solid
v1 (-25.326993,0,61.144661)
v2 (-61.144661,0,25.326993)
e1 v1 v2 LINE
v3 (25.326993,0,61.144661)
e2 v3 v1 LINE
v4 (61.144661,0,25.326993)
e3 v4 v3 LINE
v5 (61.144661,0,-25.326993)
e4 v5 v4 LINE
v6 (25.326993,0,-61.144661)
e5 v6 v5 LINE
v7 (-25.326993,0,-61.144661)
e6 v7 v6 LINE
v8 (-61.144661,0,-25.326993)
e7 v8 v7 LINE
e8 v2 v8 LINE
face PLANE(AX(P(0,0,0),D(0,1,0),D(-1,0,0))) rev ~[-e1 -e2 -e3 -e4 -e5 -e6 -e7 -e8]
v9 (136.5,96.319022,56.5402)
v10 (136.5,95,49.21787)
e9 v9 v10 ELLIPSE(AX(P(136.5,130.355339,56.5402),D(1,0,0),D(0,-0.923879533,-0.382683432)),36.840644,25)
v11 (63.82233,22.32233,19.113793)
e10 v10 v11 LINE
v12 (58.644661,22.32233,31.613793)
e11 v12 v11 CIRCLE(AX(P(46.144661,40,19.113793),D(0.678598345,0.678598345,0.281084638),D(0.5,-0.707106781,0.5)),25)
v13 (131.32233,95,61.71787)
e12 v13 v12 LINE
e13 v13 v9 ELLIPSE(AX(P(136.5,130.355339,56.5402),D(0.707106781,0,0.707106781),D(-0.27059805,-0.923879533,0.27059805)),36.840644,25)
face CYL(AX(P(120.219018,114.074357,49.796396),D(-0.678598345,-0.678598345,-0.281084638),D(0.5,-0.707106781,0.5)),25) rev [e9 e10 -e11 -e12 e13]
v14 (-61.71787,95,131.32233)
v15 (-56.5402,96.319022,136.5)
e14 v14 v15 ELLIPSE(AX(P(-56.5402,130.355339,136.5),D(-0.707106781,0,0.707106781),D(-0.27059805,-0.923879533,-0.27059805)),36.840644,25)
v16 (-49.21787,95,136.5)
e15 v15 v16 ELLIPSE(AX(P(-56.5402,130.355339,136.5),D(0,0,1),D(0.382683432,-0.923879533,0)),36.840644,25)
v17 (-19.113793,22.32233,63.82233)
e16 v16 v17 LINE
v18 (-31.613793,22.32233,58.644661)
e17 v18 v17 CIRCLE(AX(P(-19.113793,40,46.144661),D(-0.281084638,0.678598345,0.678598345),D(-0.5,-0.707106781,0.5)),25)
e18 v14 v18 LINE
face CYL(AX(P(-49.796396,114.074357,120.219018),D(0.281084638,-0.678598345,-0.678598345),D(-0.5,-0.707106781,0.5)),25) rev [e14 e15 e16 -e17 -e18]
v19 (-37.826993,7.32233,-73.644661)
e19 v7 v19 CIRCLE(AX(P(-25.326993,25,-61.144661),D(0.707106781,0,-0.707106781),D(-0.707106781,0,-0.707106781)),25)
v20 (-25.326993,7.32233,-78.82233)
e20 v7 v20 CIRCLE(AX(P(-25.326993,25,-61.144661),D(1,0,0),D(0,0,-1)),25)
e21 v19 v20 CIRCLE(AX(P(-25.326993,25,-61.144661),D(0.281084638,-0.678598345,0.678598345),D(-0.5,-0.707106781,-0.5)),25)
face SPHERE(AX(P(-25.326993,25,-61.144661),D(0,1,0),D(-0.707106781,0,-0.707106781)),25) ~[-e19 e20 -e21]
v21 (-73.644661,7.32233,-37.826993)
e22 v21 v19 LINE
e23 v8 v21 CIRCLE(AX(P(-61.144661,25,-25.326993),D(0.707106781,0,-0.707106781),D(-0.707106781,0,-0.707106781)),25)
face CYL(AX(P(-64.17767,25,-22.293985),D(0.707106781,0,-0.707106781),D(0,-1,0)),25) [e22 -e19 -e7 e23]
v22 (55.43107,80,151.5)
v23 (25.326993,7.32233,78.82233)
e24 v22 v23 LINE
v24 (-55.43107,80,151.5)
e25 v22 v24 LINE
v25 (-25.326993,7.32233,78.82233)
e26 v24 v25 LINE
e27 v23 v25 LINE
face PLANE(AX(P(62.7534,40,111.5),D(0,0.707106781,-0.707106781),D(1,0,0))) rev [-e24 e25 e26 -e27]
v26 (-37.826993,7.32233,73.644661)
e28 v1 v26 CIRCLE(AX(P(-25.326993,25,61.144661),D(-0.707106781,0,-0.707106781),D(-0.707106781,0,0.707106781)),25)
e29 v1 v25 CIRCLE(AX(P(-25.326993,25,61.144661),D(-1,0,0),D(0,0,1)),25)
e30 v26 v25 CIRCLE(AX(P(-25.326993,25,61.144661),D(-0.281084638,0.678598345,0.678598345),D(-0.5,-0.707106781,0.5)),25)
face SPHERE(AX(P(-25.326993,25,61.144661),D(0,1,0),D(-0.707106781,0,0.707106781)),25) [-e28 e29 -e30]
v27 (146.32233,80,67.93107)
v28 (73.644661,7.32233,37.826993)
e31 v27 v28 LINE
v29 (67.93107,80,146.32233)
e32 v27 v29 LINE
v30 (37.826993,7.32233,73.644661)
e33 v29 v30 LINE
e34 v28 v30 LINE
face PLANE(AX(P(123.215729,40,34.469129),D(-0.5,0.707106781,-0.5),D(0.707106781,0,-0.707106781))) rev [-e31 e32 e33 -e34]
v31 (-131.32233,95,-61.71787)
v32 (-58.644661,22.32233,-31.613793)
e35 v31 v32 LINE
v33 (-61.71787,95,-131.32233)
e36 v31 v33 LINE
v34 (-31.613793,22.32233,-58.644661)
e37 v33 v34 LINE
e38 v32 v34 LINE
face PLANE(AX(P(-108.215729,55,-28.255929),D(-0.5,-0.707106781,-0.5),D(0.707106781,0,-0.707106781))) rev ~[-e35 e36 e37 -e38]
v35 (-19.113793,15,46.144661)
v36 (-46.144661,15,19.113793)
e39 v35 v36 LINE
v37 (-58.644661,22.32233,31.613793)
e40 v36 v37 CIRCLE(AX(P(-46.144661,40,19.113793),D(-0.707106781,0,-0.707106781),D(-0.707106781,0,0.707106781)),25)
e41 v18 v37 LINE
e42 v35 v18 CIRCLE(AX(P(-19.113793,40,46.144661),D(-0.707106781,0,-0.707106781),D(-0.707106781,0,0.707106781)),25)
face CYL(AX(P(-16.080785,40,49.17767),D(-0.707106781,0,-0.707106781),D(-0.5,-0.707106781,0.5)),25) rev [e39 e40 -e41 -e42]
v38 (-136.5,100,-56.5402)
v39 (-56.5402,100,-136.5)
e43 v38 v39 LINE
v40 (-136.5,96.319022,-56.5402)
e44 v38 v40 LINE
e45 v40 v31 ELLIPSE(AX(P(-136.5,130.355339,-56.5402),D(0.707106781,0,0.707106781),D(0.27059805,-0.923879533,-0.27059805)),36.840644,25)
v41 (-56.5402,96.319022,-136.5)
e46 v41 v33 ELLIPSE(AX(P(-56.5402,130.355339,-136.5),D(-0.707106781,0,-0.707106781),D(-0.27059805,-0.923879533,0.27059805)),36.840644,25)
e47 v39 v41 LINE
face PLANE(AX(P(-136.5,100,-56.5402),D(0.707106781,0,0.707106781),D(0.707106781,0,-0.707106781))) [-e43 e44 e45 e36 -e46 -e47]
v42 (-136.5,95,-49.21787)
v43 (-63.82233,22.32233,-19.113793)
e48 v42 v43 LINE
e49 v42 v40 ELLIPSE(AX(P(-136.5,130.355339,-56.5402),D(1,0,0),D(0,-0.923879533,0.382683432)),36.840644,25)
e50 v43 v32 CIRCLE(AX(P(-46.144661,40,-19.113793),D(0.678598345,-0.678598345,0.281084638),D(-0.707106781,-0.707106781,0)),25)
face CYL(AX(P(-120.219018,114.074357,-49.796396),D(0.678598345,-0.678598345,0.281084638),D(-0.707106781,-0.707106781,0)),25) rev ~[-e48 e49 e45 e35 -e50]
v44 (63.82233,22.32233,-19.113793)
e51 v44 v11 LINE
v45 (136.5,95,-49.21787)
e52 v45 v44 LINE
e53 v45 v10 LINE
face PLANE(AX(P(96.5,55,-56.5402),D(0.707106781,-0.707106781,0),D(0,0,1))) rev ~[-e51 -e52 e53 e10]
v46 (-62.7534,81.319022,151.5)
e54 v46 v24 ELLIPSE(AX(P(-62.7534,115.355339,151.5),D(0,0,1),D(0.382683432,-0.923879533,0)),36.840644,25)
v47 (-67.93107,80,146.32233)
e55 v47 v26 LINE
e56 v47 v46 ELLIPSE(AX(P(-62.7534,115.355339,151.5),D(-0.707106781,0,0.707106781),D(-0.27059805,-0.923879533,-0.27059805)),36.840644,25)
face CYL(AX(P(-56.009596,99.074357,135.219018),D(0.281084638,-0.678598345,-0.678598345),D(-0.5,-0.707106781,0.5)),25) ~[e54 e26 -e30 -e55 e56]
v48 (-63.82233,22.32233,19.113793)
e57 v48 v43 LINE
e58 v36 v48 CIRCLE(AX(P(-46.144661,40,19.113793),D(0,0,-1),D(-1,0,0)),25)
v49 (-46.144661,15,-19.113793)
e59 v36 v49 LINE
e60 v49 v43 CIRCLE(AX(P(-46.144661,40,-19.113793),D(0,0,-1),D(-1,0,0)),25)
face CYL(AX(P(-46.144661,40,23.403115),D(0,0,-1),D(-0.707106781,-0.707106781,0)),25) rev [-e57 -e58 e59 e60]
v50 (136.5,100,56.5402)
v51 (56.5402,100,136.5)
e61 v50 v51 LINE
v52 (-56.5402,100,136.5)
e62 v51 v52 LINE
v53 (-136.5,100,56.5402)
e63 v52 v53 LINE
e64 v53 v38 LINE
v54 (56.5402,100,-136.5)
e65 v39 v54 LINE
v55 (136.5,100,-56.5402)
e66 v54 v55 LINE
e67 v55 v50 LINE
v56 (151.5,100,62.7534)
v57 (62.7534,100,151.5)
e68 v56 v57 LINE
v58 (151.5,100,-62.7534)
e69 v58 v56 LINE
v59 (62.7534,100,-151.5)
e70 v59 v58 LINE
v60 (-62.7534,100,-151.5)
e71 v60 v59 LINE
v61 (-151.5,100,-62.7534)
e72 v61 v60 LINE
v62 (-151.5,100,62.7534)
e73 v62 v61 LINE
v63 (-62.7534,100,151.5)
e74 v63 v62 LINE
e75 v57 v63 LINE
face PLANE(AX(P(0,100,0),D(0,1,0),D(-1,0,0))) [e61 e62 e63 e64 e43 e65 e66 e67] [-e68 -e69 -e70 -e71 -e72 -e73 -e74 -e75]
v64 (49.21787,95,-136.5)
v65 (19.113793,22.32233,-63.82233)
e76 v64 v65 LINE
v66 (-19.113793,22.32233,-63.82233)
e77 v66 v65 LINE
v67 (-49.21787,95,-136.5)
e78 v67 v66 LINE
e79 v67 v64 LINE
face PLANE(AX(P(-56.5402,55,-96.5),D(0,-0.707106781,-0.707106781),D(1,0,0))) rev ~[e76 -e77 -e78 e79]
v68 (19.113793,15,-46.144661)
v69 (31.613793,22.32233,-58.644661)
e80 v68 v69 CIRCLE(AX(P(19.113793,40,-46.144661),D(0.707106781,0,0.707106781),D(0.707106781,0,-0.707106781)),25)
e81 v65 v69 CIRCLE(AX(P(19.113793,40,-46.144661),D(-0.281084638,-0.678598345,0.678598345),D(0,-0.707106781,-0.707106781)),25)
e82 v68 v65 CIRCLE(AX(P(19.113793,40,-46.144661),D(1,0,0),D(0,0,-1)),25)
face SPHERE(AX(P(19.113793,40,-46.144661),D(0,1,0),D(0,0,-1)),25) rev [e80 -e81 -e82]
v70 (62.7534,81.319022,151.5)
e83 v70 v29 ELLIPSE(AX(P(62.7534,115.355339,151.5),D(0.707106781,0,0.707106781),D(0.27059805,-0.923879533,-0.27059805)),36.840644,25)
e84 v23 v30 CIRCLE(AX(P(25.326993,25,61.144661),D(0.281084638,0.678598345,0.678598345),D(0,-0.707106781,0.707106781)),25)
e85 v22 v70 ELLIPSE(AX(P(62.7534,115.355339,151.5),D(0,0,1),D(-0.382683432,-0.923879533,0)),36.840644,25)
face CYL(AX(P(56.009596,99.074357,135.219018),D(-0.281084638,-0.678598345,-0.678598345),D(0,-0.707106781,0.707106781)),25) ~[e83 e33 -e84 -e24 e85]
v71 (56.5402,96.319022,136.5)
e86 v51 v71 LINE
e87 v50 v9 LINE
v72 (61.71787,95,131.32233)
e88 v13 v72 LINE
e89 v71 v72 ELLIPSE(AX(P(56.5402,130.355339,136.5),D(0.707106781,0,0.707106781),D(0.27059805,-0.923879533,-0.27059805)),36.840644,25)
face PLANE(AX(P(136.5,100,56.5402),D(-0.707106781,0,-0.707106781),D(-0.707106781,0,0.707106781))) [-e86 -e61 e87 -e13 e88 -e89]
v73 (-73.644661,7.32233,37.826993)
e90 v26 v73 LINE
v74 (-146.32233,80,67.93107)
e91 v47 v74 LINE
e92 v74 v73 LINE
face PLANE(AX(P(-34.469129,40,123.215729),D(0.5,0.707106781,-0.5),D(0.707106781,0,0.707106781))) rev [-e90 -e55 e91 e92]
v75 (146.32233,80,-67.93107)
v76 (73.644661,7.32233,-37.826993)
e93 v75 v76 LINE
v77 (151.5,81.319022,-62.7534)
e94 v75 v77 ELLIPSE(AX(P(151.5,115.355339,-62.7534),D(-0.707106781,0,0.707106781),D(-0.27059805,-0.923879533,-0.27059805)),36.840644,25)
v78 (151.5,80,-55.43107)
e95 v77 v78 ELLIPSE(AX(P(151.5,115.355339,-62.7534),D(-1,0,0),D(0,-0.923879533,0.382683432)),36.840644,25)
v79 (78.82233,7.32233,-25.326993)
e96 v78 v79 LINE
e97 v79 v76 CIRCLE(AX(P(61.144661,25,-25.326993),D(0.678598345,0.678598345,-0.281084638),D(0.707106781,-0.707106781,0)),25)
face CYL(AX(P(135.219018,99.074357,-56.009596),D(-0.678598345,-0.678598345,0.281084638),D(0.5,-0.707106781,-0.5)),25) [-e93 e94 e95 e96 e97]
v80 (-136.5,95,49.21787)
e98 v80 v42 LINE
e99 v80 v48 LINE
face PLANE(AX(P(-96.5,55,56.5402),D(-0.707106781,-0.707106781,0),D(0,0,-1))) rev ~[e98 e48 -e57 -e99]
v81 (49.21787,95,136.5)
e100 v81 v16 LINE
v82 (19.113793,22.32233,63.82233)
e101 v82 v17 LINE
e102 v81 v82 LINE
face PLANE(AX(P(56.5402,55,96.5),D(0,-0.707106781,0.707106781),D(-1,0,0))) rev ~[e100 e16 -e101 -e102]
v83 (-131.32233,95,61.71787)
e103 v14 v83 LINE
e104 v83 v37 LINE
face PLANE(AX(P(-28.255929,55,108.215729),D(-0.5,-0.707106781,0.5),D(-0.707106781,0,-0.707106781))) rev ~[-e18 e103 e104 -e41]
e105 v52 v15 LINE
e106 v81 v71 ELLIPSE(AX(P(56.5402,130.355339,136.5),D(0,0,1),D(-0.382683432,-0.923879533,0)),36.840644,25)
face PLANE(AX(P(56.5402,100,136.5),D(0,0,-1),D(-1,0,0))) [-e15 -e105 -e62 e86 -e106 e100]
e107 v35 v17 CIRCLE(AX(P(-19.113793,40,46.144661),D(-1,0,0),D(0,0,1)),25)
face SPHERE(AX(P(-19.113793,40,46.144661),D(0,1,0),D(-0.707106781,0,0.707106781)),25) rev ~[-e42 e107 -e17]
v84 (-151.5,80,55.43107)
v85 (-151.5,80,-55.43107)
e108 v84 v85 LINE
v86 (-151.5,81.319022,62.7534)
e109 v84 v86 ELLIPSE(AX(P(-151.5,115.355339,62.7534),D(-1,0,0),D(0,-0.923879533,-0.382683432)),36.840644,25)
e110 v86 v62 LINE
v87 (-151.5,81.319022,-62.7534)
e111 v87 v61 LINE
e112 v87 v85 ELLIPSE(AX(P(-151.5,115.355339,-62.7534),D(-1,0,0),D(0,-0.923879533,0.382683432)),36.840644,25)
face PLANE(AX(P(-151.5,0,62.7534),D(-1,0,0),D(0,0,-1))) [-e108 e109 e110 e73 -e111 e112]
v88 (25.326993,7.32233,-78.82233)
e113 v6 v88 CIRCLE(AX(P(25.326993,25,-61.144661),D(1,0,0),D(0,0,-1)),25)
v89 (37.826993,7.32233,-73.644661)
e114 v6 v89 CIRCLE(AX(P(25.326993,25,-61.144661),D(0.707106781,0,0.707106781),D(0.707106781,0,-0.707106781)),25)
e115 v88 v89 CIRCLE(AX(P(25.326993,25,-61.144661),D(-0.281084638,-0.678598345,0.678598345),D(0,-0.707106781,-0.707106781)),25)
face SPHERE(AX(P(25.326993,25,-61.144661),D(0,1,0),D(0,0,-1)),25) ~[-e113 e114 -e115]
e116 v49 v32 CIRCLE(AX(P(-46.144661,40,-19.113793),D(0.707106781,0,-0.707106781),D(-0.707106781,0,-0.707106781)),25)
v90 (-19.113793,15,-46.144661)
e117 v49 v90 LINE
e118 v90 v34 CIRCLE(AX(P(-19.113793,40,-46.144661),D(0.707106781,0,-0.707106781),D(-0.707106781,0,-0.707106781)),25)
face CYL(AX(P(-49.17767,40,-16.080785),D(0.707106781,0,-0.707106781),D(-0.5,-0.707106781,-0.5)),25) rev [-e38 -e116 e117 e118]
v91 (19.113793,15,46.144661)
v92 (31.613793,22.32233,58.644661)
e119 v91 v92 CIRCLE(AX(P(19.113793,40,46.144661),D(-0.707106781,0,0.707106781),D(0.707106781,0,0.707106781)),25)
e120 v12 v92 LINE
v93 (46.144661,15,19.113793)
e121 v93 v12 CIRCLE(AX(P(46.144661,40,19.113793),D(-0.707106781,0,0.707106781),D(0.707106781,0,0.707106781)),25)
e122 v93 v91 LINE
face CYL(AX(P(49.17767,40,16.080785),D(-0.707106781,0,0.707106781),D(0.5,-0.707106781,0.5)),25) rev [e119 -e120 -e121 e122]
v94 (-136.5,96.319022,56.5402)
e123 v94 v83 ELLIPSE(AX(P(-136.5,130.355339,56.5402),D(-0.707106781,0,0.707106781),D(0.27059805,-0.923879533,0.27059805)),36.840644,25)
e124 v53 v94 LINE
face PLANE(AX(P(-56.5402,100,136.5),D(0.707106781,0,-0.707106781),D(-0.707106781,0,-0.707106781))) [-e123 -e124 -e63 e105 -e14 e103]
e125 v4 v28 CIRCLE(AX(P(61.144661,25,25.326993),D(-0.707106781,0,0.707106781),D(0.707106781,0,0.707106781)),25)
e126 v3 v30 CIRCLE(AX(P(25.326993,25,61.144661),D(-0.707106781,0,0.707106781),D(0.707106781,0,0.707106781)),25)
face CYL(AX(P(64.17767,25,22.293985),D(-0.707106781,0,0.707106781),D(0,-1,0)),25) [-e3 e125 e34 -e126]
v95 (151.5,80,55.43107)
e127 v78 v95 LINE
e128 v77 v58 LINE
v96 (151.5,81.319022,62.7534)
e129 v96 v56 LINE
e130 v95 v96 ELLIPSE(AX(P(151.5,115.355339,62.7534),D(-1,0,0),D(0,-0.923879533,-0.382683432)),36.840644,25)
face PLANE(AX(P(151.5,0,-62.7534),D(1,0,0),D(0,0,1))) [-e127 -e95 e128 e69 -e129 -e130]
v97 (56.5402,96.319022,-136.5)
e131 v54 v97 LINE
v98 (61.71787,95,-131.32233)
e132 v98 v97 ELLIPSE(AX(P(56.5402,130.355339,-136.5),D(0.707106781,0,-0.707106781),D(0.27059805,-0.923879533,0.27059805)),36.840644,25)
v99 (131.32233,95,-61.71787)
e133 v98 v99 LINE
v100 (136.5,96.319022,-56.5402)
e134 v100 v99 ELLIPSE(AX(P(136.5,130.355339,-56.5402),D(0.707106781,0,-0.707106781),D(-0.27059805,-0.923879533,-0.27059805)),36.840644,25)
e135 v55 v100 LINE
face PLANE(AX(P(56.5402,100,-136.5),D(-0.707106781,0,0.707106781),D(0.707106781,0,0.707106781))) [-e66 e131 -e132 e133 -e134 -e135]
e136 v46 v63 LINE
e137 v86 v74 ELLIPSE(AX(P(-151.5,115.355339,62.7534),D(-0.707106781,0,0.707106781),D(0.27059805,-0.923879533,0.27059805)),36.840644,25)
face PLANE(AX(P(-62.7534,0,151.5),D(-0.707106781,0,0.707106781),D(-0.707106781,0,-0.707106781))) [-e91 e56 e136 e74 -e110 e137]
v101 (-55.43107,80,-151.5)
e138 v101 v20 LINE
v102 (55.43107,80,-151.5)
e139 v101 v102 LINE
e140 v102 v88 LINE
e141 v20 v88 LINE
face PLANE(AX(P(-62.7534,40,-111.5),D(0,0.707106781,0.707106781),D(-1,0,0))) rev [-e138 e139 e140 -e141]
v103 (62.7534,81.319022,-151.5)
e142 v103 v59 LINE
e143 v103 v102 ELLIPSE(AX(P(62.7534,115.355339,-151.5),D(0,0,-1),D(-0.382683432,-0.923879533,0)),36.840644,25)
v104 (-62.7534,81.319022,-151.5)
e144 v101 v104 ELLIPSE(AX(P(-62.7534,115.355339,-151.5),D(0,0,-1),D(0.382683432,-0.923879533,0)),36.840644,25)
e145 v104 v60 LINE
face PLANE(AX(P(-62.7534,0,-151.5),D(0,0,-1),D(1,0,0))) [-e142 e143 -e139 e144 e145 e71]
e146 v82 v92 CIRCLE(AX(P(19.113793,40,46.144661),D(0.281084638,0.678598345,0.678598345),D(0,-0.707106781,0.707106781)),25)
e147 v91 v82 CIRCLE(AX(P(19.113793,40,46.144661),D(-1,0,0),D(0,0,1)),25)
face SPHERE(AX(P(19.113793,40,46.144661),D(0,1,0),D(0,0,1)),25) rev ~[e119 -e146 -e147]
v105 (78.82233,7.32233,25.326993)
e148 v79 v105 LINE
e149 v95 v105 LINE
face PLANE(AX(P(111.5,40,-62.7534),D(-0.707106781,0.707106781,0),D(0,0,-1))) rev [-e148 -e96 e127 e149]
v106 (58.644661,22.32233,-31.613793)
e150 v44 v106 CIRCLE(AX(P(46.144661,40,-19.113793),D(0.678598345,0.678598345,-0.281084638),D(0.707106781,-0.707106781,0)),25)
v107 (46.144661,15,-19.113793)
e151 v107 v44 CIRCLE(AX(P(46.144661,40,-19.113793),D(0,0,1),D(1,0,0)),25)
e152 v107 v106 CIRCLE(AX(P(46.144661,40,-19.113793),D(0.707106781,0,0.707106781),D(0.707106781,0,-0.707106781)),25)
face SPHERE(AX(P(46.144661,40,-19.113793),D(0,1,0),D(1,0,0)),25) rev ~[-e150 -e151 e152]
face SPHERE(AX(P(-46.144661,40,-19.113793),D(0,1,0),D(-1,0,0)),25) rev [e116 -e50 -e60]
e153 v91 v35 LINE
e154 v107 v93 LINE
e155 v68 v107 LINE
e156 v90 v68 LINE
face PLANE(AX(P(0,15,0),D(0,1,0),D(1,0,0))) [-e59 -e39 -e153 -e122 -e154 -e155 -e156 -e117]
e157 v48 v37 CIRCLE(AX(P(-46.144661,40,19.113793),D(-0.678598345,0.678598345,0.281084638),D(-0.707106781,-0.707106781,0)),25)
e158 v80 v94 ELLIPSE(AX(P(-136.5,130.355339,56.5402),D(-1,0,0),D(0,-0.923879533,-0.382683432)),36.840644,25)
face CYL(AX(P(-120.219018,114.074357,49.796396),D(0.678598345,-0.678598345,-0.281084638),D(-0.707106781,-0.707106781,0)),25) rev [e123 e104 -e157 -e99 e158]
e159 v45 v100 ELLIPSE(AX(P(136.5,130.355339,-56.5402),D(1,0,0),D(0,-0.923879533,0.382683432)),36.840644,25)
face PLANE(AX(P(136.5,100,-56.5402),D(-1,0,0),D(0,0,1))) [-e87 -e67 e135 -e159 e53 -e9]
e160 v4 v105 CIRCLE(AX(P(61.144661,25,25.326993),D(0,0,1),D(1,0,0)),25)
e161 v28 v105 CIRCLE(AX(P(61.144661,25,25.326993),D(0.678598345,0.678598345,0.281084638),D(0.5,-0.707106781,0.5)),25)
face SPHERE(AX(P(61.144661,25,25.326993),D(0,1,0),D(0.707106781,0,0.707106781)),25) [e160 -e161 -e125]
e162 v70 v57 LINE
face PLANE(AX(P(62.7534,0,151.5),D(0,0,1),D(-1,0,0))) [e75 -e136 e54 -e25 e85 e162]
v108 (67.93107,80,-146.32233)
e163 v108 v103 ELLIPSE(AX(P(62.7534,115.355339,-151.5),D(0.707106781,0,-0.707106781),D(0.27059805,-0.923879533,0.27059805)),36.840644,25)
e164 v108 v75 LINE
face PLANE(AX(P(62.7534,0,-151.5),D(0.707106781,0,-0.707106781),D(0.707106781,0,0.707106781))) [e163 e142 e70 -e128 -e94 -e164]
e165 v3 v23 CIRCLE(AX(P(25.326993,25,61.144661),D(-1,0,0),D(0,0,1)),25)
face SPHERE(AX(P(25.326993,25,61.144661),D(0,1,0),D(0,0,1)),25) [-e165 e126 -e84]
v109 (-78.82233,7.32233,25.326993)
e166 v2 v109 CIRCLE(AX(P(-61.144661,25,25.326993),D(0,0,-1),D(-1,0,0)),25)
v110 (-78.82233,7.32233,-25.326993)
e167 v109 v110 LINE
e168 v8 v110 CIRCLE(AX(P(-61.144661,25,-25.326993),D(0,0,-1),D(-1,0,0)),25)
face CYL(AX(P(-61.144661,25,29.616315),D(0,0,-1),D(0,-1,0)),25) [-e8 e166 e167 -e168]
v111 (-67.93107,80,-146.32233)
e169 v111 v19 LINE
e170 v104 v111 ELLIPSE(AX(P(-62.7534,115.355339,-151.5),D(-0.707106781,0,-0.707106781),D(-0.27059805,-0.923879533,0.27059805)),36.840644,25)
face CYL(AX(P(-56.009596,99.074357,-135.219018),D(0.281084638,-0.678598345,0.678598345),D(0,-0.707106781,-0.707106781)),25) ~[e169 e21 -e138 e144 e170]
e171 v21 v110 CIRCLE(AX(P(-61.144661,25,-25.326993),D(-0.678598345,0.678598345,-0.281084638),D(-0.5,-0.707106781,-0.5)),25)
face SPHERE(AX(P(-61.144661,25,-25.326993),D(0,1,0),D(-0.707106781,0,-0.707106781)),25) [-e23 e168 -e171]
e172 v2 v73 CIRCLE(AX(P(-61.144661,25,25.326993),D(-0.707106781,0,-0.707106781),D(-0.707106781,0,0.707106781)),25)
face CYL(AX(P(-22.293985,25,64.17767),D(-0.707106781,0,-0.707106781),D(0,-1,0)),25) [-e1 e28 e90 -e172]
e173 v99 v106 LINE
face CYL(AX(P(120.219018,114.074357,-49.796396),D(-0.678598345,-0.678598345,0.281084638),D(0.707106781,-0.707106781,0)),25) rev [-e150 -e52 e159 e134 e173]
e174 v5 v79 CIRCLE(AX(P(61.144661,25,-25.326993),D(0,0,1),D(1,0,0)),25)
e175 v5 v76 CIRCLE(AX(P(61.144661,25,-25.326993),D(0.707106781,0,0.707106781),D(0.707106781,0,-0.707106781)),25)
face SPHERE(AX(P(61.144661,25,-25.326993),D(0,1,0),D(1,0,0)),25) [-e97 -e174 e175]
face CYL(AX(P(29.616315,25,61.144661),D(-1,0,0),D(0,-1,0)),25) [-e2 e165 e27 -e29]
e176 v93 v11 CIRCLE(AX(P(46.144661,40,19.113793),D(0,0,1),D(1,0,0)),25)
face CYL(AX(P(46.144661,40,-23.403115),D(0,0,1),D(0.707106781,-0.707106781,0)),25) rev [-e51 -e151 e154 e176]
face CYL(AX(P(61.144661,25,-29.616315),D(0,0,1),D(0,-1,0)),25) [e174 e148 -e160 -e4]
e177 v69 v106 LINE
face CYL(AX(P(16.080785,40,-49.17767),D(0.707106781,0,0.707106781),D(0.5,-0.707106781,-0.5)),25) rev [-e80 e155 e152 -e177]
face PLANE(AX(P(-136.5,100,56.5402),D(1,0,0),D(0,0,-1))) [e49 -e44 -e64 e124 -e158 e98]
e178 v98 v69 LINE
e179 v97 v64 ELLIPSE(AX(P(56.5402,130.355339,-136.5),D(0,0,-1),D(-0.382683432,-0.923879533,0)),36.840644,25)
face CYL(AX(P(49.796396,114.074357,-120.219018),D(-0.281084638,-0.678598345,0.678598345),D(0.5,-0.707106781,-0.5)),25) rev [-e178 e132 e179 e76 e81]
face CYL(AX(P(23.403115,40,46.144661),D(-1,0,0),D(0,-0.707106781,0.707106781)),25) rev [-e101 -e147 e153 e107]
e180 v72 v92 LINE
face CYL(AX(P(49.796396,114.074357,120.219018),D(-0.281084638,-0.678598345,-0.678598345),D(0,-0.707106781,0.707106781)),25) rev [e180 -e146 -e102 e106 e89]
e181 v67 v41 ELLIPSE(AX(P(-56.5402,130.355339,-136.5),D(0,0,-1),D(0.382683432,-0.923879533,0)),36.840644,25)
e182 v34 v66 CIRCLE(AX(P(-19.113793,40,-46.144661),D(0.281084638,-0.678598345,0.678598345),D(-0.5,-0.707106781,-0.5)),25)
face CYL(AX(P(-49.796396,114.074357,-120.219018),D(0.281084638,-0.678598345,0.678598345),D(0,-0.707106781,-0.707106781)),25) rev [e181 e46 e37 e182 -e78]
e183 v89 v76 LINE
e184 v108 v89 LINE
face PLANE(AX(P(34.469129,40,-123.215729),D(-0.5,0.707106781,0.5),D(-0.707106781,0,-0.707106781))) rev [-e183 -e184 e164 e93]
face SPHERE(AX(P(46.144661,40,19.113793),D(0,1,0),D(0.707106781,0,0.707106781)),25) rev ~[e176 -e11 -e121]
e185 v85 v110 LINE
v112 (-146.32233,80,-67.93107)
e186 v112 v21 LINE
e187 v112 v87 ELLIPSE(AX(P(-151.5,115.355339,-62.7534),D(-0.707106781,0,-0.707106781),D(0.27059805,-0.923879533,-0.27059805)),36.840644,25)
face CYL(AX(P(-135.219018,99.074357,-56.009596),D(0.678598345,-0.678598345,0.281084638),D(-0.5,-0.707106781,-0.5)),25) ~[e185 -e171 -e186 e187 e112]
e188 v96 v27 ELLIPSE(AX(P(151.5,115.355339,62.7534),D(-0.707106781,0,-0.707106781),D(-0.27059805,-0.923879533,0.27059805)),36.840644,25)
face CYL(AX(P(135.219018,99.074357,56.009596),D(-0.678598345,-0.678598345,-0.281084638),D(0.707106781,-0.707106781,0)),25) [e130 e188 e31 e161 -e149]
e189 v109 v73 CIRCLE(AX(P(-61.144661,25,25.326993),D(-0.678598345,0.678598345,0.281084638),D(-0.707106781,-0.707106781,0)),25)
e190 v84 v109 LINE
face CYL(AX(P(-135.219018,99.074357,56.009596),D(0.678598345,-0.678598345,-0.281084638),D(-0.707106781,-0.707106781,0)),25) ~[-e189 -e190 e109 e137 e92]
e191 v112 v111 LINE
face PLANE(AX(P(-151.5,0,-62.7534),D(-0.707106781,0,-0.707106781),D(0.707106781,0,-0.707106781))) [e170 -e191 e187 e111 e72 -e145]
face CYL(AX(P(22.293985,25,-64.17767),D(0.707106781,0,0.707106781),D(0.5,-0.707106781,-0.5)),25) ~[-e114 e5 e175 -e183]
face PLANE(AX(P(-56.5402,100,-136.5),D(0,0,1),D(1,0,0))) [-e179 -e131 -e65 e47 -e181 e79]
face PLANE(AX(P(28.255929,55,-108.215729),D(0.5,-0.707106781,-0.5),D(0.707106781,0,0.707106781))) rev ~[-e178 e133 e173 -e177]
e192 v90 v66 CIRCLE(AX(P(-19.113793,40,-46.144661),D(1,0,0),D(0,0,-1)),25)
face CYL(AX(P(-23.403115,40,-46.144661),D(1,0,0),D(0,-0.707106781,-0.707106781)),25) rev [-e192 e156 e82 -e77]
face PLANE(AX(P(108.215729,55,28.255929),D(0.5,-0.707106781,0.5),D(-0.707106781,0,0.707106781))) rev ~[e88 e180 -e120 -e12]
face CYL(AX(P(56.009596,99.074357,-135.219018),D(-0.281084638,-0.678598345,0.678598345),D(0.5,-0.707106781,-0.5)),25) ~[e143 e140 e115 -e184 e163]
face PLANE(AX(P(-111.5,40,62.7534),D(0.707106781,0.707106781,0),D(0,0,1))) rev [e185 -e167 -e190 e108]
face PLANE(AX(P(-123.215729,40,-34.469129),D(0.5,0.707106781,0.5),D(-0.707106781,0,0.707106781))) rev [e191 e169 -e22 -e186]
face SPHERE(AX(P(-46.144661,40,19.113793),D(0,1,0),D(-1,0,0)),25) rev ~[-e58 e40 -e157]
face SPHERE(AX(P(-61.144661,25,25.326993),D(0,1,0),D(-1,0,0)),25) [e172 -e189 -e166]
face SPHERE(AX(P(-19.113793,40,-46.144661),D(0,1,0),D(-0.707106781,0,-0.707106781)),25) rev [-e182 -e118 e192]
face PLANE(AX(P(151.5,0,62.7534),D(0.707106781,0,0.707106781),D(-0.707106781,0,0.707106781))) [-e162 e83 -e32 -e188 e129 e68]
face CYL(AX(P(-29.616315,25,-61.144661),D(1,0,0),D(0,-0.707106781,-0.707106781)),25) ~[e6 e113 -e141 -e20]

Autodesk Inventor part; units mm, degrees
ref_plane "YZ Plane" through (0, 0, 0) normal (1, 0, 0) x (0, 1, 0)
ref_plane "XZ Plane" through (0, 0, 0) normal (0, 1, 0) x (-1, 0, 0)
ref_plane "XY Plane" through (0, 0, 0) normal (0, 0, 1) x (1, 0, 0)
sketch "Sketch1" plane through (0, 0, 0) normal (0, 1, 0) x (-1, 0, 0)
  line L0 (-62.7534, -151.5) -> (-151.5, -62.7534)
  line L1 (-151.5, -62.7534) -> (-151.5, 62.7534)
  line L2 (-151.5, 62.7534) -> (-62.7534, 151.5)
  line L3 (-62.7534, 151.5) -> (62.7534, 151.5)
  line L4 (62.7534, 151.5) -> (151.5, 62.7534)
  line L5 (151.5, 62.7534) -> (151.5, -62.7534)
  line L6 (151.5, -62.7534) -> (62.7534, -151.5)
  line L7 (62.7534, -151.5) -> (-62.7534, -151.5)
  point P0 (0, 0)
  point P1 (0, 0)
  dimension "d0" = 303
extrude "Extrusion1" add sketch "Sketch1" along normal blind 100
sketch "Sketch2" plane through (0, 100, 0) normal (0, 1, 0) x (1, 0, 0)
  line L0 (-136.5, 56.5402) -> (-56.5402, 136.5)
  line L1 (-56.5402, 136.5) -> (56.5402, 136.5)
  line L2 (56.5402, 136.5) -> (136.5, 56.5402)
  line L3 (136.5, 56.5402) -> (136.5, -56.5402)
  line L4 (136.5, -56.5402) -> (56.5402, -136.5)
  line L5 (56.5402, -136.5) -> (-56.5402, -136.5)
  line L6 (-56.5402, -136.5) -> (-136.5, -56.5402)
  line L7 (-136.5, -56.5402) -> (-136.5, 56.5402)
  point P0 (0, 0)
  point P1 (0, 0)
  dimension "d3" = 273
extrude "Extrusion2" cut sketch "Sketch2" against normal blind 85
chamfer "Chamfer1" distance 80 angle 45 8 edges at (0, 15, 136.5) (96.5201, 15, 96.5201) (-96.5201, 15, 96.5201) (136.5, 15, 0) (96.5201, 15, -96.5201) (0, 15, -136.5) (-96.5201, 15, -96.5201) (-136.5, 15, 0)
chamfer "Chamfer2" distance 80 angle 45 8 edges at (-107.1267, 0, -107.1267) (0, 0, -151.5) (-151.5, 0, 0) (107.1267, 0, -107.1267) (151.5, 0, 0) (107.1267, 0, 107.1267) (0, 0, 151.5) (-107.1267, 0, 107.1267)
fillet "Fillet1" radius 25 16 edges at (46.1848, 40, 111.5) (111.5, 40, 46.1848) (111.5, 40, -46.1848) (-46.1848, 40, 111.5) (-111.5, 40, 46.1848) (46.1848, 40, -111.5) (-46.1848, 40, -111.5) (-111.5, 40, -46.1848) (-50.5581, 0, -50.5581) (0, 0, -71.5) (-71.5, 0, 0) (-50.5581, 0, 50.5581) (0, 0, 71.5) (50.5581, 0, 50.5581) (71.5, 0, 0) (50.5581, 0, -50.5581)
fillet "Fillet2" radius 25 16 edges at (39.9716, 55, 96.5) (96.5, 55, 39.9716) (96.5, 55, -39.9716) (-39.9716, 55, 96.5) (39.9716, 55, -96.5) (-39.9716, 55, -96.5) (-96.5, 55, -39.9716) (-96.5, 55, 39.9716) (-56.5, 15, 0) (-39.9515, 15, 39.9515) (-39.9515, 15, -39.9515) (0, 15, -56.5) (0, 15, 56.5) (39.9515, 15, 39.9515) (56.5, 15, 0) (39.9515, 15, -39.9515)
sketch "Sketch3" plane through (62.7534, 81.319, -151.5) normal (0.7071, 0, -0.7071) x (-0.7071, 0, -0.7071)
  circle A0 centre (-10, 7.5) radius 2
  point P0 (-62.7534, -81.319)
  dimension "d14" = 4
sketch "Sketch4" plane through (-62.7534, 81.319, 151.5) normal (-0.7071, 0, 0.7071) x (0.7071, 0, 0.7071)
  circle A0 centre (-115, 7.5) radius 2
  point P0 (-62.7534, -81.319)
  dimension "d15" = 4
sketch "Sketch5" plane through (62.7534, 81.319, -151.5) normal (0.7071, 0, -0.7071) x (-0.7071, 0, -0.7071)
  circle A0 centre (-62.755, 9.34) radius 2
  point P0 (-62.7534, -81.319)
  dimension "d16" = 4
sketch "Sketch6" plane through (-62.7534, 81.319, 151.5) normal (-0.7071, 0, 0.7071) x (0.7071, 0, 0.7071)
  circle A0 centre (-62.755, 9.34) radius 2
  point P0 (-62.7534, -81.319)
  dimension "d17" = 4
properties part number "trail 6.1" material "PVC, Unplasticized"
